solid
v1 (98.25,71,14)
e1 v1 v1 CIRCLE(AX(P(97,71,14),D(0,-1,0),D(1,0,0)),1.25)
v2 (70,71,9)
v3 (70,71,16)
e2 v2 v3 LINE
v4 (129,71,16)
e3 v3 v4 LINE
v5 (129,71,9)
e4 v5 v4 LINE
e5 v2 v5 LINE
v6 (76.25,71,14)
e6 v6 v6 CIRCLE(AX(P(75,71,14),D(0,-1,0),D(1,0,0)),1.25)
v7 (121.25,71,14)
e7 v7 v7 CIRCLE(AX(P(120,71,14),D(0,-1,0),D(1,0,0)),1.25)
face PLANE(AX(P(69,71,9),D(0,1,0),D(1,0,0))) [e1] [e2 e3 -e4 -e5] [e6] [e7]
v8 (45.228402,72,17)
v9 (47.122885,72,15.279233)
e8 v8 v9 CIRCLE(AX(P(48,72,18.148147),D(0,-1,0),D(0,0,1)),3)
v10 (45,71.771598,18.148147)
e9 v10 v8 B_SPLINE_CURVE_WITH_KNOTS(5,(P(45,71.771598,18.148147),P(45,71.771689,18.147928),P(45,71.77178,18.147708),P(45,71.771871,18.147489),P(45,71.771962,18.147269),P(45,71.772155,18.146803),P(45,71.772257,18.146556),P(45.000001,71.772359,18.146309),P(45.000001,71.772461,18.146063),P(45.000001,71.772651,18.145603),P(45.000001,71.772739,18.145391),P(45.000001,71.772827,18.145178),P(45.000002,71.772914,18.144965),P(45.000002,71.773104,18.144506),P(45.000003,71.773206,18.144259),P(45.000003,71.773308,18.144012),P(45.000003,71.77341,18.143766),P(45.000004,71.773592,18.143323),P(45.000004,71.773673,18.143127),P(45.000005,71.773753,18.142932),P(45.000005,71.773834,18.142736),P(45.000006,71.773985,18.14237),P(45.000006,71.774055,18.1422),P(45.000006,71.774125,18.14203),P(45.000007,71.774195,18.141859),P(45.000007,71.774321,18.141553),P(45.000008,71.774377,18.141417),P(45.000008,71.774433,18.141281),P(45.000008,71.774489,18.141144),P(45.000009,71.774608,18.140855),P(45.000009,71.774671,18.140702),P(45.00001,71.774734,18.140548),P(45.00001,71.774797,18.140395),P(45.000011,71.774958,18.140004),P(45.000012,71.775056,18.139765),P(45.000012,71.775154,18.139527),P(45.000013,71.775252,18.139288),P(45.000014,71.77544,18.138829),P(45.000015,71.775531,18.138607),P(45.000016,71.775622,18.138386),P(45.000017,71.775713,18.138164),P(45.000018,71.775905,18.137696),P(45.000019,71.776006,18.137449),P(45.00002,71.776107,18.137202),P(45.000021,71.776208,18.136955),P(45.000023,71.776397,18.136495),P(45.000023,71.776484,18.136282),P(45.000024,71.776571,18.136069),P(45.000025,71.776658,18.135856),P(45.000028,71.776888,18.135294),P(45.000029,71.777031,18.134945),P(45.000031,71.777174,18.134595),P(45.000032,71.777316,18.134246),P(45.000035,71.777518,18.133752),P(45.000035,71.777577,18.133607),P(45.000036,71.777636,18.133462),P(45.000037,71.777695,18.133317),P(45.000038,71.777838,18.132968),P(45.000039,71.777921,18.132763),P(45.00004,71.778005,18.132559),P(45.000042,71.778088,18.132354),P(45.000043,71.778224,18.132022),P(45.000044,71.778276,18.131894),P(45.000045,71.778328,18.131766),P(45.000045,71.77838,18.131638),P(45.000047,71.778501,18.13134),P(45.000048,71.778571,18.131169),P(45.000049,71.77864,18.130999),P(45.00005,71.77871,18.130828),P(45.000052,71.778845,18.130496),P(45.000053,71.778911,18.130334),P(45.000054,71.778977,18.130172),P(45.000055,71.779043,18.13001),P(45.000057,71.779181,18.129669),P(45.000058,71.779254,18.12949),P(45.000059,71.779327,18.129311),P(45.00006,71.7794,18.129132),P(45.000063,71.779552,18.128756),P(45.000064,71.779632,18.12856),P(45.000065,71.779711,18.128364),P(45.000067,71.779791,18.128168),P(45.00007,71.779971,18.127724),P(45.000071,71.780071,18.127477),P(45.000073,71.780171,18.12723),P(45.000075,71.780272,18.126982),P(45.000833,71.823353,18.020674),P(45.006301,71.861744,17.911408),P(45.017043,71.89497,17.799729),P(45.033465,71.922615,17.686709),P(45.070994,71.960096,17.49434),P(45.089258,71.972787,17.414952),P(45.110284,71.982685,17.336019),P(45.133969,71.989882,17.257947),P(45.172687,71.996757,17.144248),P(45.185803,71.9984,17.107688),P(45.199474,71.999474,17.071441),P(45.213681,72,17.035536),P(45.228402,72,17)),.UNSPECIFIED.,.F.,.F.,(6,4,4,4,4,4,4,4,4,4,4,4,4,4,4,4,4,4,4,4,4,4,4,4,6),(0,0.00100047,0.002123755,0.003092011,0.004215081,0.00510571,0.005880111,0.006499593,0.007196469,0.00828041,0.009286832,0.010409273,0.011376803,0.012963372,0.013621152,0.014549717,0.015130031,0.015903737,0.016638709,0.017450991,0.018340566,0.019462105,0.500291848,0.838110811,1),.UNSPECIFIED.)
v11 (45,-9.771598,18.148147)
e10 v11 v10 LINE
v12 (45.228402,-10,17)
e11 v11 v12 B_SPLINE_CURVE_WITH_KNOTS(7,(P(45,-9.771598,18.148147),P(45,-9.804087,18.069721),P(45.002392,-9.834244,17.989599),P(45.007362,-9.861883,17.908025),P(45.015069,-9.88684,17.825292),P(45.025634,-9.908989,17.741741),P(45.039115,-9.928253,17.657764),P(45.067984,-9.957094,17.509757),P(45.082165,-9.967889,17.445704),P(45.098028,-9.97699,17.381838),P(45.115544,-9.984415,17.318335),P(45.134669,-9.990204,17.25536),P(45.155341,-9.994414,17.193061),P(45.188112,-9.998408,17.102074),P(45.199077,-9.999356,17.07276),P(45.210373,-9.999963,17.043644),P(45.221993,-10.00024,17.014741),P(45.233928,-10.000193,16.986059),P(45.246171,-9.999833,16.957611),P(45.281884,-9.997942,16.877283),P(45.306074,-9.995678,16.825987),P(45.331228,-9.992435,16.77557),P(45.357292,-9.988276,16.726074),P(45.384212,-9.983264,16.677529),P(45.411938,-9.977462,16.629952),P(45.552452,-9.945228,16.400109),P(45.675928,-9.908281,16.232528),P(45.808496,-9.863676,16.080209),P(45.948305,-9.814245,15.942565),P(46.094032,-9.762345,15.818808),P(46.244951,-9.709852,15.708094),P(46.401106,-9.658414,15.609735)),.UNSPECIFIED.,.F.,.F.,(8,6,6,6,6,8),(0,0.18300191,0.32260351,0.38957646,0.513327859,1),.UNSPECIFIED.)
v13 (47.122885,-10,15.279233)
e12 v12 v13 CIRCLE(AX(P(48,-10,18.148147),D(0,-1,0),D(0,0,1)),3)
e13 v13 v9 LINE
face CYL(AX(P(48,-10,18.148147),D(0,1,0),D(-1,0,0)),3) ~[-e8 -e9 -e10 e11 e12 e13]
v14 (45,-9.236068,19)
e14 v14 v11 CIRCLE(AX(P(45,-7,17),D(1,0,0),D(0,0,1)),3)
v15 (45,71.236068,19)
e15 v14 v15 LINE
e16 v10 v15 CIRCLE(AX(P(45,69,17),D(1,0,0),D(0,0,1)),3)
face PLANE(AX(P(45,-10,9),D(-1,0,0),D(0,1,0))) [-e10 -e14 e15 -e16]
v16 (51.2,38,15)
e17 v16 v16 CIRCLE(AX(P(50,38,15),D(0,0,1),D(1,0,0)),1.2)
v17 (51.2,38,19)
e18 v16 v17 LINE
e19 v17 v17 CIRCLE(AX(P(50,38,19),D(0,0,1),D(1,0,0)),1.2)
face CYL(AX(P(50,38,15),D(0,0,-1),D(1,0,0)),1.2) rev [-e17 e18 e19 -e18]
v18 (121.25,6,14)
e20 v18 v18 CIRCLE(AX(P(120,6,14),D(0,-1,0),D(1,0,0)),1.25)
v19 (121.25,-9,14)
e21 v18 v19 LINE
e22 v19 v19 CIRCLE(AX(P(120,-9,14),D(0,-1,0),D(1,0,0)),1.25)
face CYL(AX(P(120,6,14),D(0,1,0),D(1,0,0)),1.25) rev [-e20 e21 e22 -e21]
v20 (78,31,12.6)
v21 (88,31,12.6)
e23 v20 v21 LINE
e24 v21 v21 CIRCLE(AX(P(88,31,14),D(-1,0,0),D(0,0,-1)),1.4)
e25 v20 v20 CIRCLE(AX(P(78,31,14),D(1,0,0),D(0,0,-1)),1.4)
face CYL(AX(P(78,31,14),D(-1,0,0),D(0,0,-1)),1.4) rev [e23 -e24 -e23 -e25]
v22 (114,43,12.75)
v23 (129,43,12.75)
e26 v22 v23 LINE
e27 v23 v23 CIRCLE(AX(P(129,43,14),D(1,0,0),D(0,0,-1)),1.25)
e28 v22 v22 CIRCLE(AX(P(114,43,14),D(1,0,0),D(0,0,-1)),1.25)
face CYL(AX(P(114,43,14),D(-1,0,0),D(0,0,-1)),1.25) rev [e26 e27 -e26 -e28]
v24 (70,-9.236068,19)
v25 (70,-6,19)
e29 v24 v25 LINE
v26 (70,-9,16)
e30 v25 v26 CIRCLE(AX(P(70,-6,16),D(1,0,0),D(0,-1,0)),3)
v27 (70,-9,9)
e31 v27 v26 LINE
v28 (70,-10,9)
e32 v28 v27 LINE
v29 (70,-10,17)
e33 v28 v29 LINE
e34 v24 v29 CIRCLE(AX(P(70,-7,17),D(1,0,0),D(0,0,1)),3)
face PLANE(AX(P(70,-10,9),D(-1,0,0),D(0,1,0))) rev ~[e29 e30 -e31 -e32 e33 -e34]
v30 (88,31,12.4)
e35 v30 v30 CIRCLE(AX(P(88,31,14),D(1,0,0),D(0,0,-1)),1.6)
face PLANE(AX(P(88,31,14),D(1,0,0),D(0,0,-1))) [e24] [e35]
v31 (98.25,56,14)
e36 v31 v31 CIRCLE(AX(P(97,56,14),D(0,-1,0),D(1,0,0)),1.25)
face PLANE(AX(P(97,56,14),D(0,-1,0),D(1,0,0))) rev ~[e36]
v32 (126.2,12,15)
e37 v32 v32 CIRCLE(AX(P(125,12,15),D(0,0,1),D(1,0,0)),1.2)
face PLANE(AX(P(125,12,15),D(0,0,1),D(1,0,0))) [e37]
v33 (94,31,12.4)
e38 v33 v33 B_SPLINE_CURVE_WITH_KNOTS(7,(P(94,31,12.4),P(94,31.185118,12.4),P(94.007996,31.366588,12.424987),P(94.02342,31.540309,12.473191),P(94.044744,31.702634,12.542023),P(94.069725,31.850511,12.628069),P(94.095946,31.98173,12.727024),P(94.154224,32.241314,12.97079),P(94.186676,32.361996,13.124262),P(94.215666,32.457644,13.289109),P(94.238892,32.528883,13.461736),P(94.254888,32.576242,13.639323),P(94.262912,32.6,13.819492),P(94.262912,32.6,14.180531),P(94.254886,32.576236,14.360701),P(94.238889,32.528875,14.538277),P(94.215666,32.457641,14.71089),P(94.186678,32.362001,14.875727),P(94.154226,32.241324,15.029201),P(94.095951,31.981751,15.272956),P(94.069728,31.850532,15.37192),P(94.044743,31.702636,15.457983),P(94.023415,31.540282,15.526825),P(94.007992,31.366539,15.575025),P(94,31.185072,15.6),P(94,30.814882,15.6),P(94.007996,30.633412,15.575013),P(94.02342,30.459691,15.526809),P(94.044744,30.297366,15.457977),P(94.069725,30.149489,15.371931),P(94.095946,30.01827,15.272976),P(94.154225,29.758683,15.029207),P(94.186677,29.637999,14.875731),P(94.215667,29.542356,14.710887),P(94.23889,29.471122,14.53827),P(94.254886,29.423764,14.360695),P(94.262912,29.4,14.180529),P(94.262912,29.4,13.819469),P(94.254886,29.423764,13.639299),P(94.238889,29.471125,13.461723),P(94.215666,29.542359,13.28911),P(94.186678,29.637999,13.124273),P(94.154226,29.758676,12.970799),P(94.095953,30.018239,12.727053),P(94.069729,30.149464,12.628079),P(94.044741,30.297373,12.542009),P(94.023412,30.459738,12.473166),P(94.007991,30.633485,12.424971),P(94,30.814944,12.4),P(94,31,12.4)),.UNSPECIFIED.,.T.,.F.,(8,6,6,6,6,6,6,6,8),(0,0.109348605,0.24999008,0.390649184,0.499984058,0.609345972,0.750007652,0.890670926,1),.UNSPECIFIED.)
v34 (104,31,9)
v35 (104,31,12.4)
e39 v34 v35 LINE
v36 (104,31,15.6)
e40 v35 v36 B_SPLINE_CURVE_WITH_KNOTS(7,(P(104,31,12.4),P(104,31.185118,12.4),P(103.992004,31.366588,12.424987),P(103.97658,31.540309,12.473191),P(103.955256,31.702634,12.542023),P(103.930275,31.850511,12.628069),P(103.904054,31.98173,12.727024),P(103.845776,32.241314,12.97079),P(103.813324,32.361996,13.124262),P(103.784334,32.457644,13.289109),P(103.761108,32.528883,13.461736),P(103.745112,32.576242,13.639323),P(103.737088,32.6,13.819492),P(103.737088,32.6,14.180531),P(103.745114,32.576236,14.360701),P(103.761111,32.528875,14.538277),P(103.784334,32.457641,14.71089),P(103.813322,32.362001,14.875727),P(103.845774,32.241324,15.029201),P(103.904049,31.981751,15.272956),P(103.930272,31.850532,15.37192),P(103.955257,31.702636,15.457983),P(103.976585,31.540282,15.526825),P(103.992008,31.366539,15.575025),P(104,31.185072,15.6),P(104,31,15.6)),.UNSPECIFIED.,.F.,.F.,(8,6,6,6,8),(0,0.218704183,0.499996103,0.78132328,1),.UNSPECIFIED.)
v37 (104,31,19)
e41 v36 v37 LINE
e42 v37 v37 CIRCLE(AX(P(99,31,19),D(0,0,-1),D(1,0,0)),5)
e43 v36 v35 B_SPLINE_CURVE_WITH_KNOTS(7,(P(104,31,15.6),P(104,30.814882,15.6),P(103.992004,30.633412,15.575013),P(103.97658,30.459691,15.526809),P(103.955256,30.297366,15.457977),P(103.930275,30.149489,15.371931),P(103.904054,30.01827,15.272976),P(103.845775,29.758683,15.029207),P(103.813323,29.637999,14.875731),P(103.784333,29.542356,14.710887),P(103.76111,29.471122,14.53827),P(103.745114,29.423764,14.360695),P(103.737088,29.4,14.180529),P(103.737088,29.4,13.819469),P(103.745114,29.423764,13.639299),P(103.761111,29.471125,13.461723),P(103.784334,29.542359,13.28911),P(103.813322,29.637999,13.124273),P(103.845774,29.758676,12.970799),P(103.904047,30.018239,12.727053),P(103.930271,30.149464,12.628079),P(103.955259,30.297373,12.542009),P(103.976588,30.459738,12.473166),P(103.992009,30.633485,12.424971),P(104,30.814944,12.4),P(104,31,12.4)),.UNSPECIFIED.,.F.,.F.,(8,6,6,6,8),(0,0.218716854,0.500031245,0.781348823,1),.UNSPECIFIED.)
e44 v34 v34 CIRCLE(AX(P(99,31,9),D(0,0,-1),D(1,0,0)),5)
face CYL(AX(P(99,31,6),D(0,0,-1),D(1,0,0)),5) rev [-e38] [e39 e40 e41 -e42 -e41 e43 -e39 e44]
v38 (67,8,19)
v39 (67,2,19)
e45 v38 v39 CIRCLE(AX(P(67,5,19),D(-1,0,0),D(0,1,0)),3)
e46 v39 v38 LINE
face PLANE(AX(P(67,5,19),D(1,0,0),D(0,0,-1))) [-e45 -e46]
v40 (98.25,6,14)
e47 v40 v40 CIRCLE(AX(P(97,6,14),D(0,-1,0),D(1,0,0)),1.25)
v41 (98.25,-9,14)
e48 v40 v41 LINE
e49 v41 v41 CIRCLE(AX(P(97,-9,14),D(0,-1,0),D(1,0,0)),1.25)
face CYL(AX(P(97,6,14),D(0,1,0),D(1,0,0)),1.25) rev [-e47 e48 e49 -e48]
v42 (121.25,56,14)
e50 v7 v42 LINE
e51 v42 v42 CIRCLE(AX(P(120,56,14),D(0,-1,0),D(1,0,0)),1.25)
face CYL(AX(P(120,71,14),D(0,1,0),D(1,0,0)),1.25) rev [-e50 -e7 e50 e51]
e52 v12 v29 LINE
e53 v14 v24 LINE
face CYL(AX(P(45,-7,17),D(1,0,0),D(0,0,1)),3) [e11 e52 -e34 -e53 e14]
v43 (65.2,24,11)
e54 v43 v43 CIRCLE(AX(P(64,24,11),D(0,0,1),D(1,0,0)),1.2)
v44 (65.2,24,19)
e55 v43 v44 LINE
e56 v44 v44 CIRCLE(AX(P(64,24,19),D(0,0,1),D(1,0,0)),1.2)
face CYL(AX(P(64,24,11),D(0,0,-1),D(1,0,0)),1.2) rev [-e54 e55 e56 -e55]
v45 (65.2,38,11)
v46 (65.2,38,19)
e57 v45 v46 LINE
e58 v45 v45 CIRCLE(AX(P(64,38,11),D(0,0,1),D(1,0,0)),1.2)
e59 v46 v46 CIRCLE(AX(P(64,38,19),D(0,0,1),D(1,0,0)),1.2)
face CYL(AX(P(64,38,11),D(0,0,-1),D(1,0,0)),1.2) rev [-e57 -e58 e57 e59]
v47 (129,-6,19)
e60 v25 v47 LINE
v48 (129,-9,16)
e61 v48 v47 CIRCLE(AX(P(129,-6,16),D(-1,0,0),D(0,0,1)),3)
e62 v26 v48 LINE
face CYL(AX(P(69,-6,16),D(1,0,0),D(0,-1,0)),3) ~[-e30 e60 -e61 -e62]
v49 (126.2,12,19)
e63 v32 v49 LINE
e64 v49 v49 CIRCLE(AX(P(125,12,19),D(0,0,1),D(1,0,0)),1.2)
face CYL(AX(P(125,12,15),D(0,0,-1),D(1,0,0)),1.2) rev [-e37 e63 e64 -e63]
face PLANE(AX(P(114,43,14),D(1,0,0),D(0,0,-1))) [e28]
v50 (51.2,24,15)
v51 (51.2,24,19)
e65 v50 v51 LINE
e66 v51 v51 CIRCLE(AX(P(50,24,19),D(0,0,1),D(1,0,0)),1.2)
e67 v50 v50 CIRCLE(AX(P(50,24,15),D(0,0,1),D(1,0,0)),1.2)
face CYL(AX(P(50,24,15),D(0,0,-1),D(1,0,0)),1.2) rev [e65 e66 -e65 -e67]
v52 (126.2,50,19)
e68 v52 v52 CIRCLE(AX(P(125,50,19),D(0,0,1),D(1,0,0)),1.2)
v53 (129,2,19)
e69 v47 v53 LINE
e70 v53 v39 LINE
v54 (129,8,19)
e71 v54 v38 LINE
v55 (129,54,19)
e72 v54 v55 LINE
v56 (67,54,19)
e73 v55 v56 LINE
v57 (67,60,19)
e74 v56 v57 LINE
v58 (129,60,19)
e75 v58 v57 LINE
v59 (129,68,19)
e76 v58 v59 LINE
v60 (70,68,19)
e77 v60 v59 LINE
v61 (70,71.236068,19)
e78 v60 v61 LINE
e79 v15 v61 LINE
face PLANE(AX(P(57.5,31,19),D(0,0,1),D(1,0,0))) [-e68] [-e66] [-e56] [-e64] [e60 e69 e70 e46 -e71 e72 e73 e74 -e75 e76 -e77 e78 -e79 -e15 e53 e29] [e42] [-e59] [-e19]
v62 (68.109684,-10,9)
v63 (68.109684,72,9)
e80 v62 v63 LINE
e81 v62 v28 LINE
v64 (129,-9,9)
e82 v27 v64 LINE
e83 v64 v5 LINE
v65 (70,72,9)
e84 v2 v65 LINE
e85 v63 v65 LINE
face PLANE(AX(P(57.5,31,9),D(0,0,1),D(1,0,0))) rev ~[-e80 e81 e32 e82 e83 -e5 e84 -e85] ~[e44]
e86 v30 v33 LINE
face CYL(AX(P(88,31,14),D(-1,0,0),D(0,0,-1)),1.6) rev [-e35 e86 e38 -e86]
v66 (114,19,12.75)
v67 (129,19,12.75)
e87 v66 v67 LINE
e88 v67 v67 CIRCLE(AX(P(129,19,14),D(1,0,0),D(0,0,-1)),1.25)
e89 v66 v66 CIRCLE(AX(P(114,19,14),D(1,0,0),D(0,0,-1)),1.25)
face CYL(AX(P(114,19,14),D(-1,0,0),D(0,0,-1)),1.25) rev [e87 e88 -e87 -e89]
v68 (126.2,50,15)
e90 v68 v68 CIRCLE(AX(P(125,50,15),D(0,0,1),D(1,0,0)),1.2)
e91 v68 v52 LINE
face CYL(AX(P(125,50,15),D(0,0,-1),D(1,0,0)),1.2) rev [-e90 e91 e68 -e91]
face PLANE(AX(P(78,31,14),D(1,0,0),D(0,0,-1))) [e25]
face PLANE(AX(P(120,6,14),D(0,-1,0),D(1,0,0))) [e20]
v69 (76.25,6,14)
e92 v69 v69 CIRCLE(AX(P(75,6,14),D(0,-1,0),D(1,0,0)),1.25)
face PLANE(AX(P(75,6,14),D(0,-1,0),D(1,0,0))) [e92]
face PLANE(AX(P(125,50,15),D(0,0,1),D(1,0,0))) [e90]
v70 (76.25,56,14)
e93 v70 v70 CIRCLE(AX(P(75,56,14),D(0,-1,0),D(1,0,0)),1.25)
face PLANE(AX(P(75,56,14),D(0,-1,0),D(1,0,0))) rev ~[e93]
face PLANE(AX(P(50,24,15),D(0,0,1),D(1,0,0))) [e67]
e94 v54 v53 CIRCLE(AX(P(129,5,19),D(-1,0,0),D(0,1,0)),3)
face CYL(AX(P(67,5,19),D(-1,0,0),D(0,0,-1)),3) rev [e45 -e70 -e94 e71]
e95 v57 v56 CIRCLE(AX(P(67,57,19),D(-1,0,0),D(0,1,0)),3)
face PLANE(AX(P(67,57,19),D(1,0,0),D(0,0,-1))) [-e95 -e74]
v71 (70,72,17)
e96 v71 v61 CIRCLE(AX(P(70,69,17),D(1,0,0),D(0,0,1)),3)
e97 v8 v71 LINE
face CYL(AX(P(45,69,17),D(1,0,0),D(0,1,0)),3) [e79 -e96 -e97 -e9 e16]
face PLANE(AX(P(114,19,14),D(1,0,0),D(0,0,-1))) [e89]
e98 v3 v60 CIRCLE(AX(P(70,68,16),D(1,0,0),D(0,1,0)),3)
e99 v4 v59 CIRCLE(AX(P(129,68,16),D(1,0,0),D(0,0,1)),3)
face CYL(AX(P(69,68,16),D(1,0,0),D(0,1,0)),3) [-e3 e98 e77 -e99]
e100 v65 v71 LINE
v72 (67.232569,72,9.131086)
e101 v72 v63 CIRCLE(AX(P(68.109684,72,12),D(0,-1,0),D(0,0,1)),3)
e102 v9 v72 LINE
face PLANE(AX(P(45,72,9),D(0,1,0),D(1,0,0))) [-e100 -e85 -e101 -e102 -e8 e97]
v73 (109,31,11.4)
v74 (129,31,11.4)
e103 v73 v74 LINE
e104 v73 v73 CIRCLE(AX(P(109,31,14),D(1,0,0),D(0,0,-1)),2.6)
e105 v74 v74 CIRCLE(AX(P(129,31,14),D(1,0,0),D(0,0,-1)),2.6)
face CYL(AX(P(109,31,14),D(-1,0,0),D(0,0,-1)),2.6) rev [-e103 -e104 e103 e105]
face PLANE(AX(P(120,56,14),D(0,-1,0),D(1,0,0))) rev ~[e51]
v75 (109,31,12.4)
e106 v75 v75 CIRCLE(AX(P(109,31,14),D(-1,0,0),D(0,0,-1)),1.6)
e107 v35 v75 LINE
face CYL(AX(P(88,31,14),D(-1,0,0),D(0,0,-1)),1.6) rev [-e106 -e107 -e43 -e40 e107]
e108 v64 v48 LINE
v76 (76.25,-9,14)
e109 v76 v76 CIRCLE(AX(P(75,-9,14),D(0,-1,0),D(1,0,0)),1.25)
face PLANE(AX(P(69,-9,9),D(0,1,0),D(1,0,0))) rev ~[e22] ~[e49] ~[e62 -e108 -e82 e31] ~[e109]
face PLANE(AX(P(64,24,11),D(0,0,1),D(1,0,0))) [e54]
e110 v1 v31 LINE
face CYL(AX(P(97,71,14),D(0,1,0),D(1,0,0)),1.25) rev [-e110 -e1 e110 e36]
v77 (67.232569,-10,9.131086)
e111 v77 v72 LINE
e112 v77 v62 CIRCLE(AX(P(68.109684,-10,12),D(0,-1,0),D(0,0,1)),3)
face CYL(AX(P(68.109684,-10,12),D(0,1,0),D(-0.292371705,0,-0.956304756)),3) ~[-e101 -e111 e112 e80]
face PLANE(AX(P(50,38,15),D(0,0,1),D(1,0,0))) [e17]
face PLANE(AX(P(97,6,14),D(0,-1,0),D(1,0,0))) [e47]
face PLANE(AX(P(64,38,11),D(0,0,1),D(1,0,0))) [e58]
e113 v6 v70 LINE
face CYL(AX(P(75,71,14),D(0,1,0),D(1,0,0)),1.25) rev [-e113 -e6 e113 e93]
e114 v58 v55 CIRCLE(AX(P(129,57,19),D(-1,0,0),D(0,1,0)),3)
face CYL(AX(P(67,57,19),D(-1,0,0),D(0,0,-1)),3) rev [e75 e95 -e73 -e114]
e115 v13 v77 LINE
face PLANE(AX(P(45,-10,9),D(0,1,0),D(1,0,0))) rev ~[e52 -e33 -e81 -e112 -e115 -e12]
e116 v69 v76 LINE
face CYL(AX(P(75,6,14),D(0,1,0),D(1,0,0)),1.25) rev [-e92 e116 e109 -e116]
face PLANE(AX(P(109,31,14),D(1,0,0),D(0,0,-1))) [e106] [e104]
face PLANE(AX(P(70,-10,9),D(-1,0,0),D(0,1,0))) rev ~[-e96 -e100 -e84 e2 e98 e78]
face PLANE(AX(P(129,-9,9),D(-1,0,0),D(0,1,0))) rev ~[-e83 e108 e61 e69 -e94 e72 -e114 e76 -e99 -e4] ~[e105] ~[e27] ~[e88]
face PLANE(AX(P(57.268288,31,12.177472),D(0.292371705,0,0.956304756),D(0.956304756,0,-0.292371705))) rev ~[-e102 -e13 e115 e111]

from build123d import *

# Parameters (mm, degrees)
CYLINDER284_R          = 3
CYLINDER284_DEPTH      = 62
CYLINDER285_R          = 3
CYLINDER285_DEPTH      = 62
CYLINDER280_R          = 1.2
CYLINDER280_DEPTH      = 4
CYLINDER281_R          = 1.2
CYLINDER281_DEPTH      = 4
CYLINDER282_R          = 1.2
CYLINDER282_DEPTH      = 8
CYLINDER283_R          = 1.2
CYLINDER283_DEPTH      = 8
CYLINDER453_R          = 1.2
CYLINDER453_DEPTH      = 4
CYLINDER452_R          = 1.2
CYLINDER452_DEPTH      = 4
CYLINDER457_R          = 1.25
CYLINDER457_DEPTH      = 15
CYLINDER456_R          = 1.25
CYLINDER456_DEPTH      = 15
BOX301_W               = 25
BOX301_H               = 82
BOX301_DEPTH           = 1
CYLINDER278_R          = 1.25
CYLINDER278_DEPTH      = 15
CYLINDER277_R          = 1.25
CYLINDER277_DEPTH      = 15
CYLINDER279_R          = 1.25
CYLINDER279_DEPTH      = 15
CYLINDER272_R          = 1.6
CYLINDER272_DEPTH      = 41
CYLINDER274_R          = 2.6
CYLINDER274_DEPTH      = 20
CYLINDER273_R          = 1.4
CYLINDER273_DEPTH      = 51
CYLINDER286_R          = 1.25
CYLINDER286_DEPTH      = 15
CYLINDER287_R          = 1.25
CYLINDER287_DEPTH      = 15
CYLINDER288_R          = 1.25
CYLINDER288_DEPTH      = 15
CYLINDER271_R          = 5
CYLINDER271_DEPTH      = 19
BOX215_W               = 30
BOX215_H               = 82
BOX215_DEPTH           = 10
BOX215_PLACEMENT_ANGLE = 17
BOX214_W               = 25
BOX214_H               = 62
BOX214_DEPTH           = 1.5
BOX213_W               = 25
BOX213_H               = 82
BOX213_DEPTH           = 11
FILLET085_R            = 3
BOX212_W               = 60
BOX212_H               = 80
BOX212_DEPTH           = 10
FILLET084_R            = 3
FILLET086_R            = 3


with BuildPart() as cylinder284:
    # Cylinder284 → Cylinder284 (new body)
    with BuildSketch(Plane(origin=(67, 5, 19), x_dir=(0, 0, -1), z_dir=(1, 0, 0))):
        Circle(CYLINDER284_R)
    extrude(amount=CYLINDER284_DEPTH)


with BuildPart() as fusion252:
    # Cylinder285 → Cylinder285 (new body)
    with BuildSketch(Plane(origin=(67, 57, 19), x_dir=(0, 0, -1), z_dir=(1, 0, 0))):
        Circle(CYLINDER285_R)
    extrude(amount=CYLINDER285_DEPTH)

    # Fusion252: union Cylinder284
    add(cylinder284.part)


with BuildPart() as cylinder280:
    # Cylinder280 → Cylinder280 (new body)
    with BuildSketch(Plane(origin=(50, 24, 15), x_dir=(1, 0, 0), z_dir=(0, 0, 1))):
        Circle(CYLINDER280_R)
    extrude(amount=CYLINDER280_DEPTH)


with BuildPart() as cylinder281:
    # Cylinder281 → Cylinder281 (new body)
    with BuildSketch(Plane(origin=(50, 38, 15), x_dir=(1, 0, 0), z_dir=(0, 0, 1))):
        Circle(CYLINDER281_R)
    extrude(amount=CYLINDER281_DEPTH)


with BuildPart() as cylinder282:
    # Cylinder282 → Cylinder282 (new body)
    with BuildSketch(Plane(origin=(64, 24, 11), x_dir=(1, 0, 0), z_dir=(0, 0, 1))):
        Circle(CYLINDER282_R)
    extrude(amount=CYLINDER282_DEPTH)


with BuildPart() as cylinder283:
    # Cylinder283 → Cylinder283 (new body)
    with BuildSketch(Plane(origin=(64, 38, 11), x_dir=(1, 0, 0), z_dir=(0, 0, 1))):
        Circle(CYLINDER283_R)
    extrude(amount=CYLINDER283_DEPTH)


with BuildPart() as cylinder453:
    # Cylinder453 → Cylinder453 (new body)
    with BuildSketch(Plane(origin=(125, 12, 15), x_dir=(1, 0, 0), z_dir=(0, 0, 1))):
        Circle(CYLINDER453_R)
    extrude(amount=CYLINDER453_DEPTH)


with BuildPart() as fusion406:
    # Cylinder452 → Cylinder452 (new body)
    with BuildSketch(Plane(origin=(125, 50, 15), x_dir=(1, 0, 0), z_dir=(0, 0, 1))):
        Circle(CYLINDER452_R)
    extrude(amount=CYLINDER452_DEPTH)

    # Fusion406: union Cylinder280, Cylinder281, Cylinder282, Cylinder283, Cylinder453
    add(cylinder280.part)
    add(cylinder281.part)
    add(cylinder282.part)
    add(cylinder283.part)
    add(cylinder453.part)


with BuildPart() as cylinder457:
    # Cylinder457 → Cylinder457 (new body)
    with BuildSketch(Plane(origin=(80, 43, 14), x_dir=(0, 0, -1), z_dir=(1, 0, 0))):
        Circle(CYLINDER457_R)
    extrude(amount=CYLINDER457_DEPTH)


with BuildPart() as fusion414:
    # Cylinder456 → Cylinder456 (new body)
    with BuildSketch(Plane(origin=(80, 19, 14), x_dir=(0, 0, -1), z_dir=(1, 0, 0))):
        Circle(CYLINDER456_R)
    extrude(amount=CYLINDER456_DEPTH)

    # Fusion413: union Cylinder457
    add(cylinder457.part)


with BuildPart() as fusion414_1:
    # Fusion413 placement: moved
    add(fusion414.part.moved(Location((34, 0, 0))))

    # Fusion414: union Fusion252, Fusion406
    add(fusion252.part)
    add(fusion406.part)


with BuildPart() as cube372:
    # Box301 → Box301 (new body)
    with BuildSketch(Plane(origin=(45, -10, 19), x_dir=(1, 0, 0), z_dir=(0, 0, 1))):
        with Locations((12.5, 41)):
            Rectangle(BOX301_W, BOX301_H)
    extrude(amount=BOX301_DEPTH)


with BuildPart() as cylinder278:
    # Cylinder278 → Cylinder278 (new body)
    with BuildSketch(Plane(origin=(6, 15, 14), x_dir=(1, 0, 0), z_dir=(0, -1, 0))):
        Circle(CYLINDER278_R)
    extrude(amount=CYLINDER278_DEPTH)


with BuildPart() as cylinder277:
    # Cylinder277 → Cylinder277 (new body)
    with BuildSketch(Plane(origin=(28, 15, 14), x_dir=(1, 0, 0), z_dir=(0, -1, 0))):
        Circle(CYLINDER277_R)
    extrude(amount=CYLINDER277_DEPTH)


with BuildPart() as fusion246:
    # Cylinder279 → Cylinder279 (new body)
    with BuildSketch(Plane(origin=(51, 15, 14), x_dir=(1, 0, 0), z_dir=(0, -1, 0))):
        Circle(CYLINDER279_R)
    extrude(amount=CYLINDER279_DEPTH)

    # Fusion246: union Cylinder278, Cylinder277
    add(cylinder278.part)
    add(cylinder277.part)


with BuildPart() as fusion246_1:
    # Fusion246 placement: moved
    add(fusion246.part.moved(Location((0, 56, 0))))


with BuildPart() as cylinder272:
    # Cylinder272 → Cylinder272 (new body)
    with BuildSketch(Plane(origin=(20, 31, 10), x_dir=(0, 0, -1), z_dir=(1, 0, 0))):
        Circle(CYLINDER272_R)
    extrude(amount=CYLINDER272_DEPTH)


with BuildPart() as cylinder274:
    # Cylinder274 → Cylinder274 (new body)
    with BuildSketch(Plane(origin=(41, 31, 10), x_dir=(0, 0, -1), z_dir=(1, 0, 0))):
        Circle(CYLINDER274_R)
    extrude(amount=CYLINDER274_DEPTH)


with BuildPart() as fusion249:
    # Cylinder273 → Cylinder273 (new body)
    with BuildSketch(Plane(origin=(10, 31, 10), x_dir=(0, 0, -1), z_dir=(1, 0, 0))):
        Circle(CYLINDER273_R)
    extrude(amount=CYLINDER273_DEPTH)

    # Fusion249: union Cylinder272, Cylinder274
    add(cylinder272.part)
    add(cylinder274.part)


with BuildPart() as fusion249_1:
    # Fusion249 placement: moved
    add(fusion249.part.moved(Location((-1, 0, 4))))


with BuildPart() as cylinder286:
    # Cylinder286 → Cylinder286 (new body)
    with BuildSketch(Plane(origin=(6, 15, 14), x_dir=(1, 0, 0), z_dir=(0, -1, 0))):
        Circle(CYLINDER286_R)
    extrude(amount=CYLINDER286_DEPTH)


with BuildPart() as cylinder287:
    # Cylinder287 → Cylinder287 (new body)
    with BuildSketch(Plane(origin=(28, 15, 14), x_dir=(1, 0, 0), z_dir=(0, -1, 0))):
        Circle(CYLINDER287_R)
    extrude(amount=CYLINDER287_DEPTH)


with BuildPart() as fusion254:
    # Cylinder288 → Cylinder288 (new body)
    with BuildSketch(Plane(origin=(51, 15, 14), x_dir=(1, 0, 0), z_dir=(0, -1, 0))):
        Circle(CYLINDER288_R)
    extrude(amount=CYLINDER288_DEPTH)

    # Fusion254: union Cylinder286, Cylinder287
    add(cylinder286.part)
    add(cylinder287.part)


with BuildPart() as fusion254_1:
    # Fusion254 placement: moved
    add(fusion254.part.moved(Location((0, -9, 0))))


with BuildPart() as fusion255:
    # Cylinder271 → Cylinder271 (new body)
    with BuildSketch(Plane(origin=(30, 31, 6), x_dir=(1, 0, 0), z_dir=(0, 0, 1))):
        Circle(CYLINDER271_R)
    extrude(amount=CYLINDER271_DEPTH)

    # Fusion255: union Fusion246, Fusion249, Fusion254
    add(fusion246_1.part)
    add(fusion249_1.part)
    add(fusion254_1.part)


with BuildPart() as cube295:
    # Box215 → Box215 (new body)
    with BuildSketch(Plane.XY):
        with Locations((15, 41)):
            Rectangle(BOX215_W, BOX215_H)
    extrude(amount=BOX215_DEPTH)


with BuildPart() as cube295_1:
    # Box215 placement: moved
    add(cube295.part.moved(Location((-29, -10, 7))).rotate(Axis((-29, -10, 7), (0, 1, 0)), BOX215_PLACEMENT_ANGLE))


with BuildPart() as cube294:
    # Box214 → Box214 (new body)
    with BuildSketch(Plane(origin=(-24, 0, 19), x_dir=(1, 0, 0), z_dir=(0, 0, 1))):
        with Locations((12.5, 31)):
            Rectangle(BOX214_W, BOX214_H)
    extrude(amount=BOX214_DEPTH)


with BuildPart() as fillet085:
    # Box213 → Box213 (new body)
    with BuildSketch(Plane(origin=(-24, -10, 9), x_dir=(1, 0, 0), z_dir=(0, 0, 1))):
        with Locations((12.5, 41)):
            Rectangle(BOX213_W, BOX213_H)
    extrude(amount=BOX213_DEPTH)

    # Cut222: cut Cube294
    add(cube294.part, mode=Mode.SUBTRACT)

    # Fillet085
    fillet085_edges = [fillet085.edges().sort_by_distance(p)[0] for p in [
        (-11.5, -10, 20),
        (-11.5, 72, 20),
    ]]
    fillet(fillet085_edges, radius=FILLET085_R)


with BuildPart() as fifth_wheel_plate_wide:
    # Box212 → Box212 (new body)
    with BuildSketch(Plane(origin=(0, -9, 9), x_dir=(1, 0, 0), z_dir=(0, 0, 1))):
        with Locations((30, 40)):
            Rectangle(BOX212_W, BOX212_H)
    extrude(amount=BOX212_DEPTH)

    # Fillet084
    fillet084_edges = [fifth_wheel_plate_wide.edges().sort_by_distance(p)[0] for p in [
        (30, -9, 19),
        (30, 71, 19),
    ]]
    fillet(fillet084_edges, radius=FILLET084_R)

    # Fusion253: union Fillet085
    add(fillet085.part)

    # Cut223: cut Cube295
    add(cube295_1.part, mode=Mode.SUBTRACT)

    # Cut224: cut Fusion255
    add(fusion255.part, mode=Mode.SUBTRACT)


with BuildPart() as fifth_wheel_plate_wide_1:
    # Cut224 placement: moved
    add(fifth_wheel_plate_wide.part.moved(Location((69, 0, 0))))

    # Fillet086
    fillet086_edges = [fifth_wheel_plate_wide_1.edges().sort_by_distance(p)[0] for p in [
        (67.661331, 31, 9),
        (45, 31, 15.928264),
    ]]
    fillet(fillet086_edges, radius=FILLET086_R)

    # Cut299: cut Cube372
    add(cube372.part, mode=Mode.SUBTRACT)

    # Cut304: cut Fusion414
    add(fusion414_1.part, mode=Mode.SUBTRACT)


solid = fifth_wheel_plate_wide_1.part
